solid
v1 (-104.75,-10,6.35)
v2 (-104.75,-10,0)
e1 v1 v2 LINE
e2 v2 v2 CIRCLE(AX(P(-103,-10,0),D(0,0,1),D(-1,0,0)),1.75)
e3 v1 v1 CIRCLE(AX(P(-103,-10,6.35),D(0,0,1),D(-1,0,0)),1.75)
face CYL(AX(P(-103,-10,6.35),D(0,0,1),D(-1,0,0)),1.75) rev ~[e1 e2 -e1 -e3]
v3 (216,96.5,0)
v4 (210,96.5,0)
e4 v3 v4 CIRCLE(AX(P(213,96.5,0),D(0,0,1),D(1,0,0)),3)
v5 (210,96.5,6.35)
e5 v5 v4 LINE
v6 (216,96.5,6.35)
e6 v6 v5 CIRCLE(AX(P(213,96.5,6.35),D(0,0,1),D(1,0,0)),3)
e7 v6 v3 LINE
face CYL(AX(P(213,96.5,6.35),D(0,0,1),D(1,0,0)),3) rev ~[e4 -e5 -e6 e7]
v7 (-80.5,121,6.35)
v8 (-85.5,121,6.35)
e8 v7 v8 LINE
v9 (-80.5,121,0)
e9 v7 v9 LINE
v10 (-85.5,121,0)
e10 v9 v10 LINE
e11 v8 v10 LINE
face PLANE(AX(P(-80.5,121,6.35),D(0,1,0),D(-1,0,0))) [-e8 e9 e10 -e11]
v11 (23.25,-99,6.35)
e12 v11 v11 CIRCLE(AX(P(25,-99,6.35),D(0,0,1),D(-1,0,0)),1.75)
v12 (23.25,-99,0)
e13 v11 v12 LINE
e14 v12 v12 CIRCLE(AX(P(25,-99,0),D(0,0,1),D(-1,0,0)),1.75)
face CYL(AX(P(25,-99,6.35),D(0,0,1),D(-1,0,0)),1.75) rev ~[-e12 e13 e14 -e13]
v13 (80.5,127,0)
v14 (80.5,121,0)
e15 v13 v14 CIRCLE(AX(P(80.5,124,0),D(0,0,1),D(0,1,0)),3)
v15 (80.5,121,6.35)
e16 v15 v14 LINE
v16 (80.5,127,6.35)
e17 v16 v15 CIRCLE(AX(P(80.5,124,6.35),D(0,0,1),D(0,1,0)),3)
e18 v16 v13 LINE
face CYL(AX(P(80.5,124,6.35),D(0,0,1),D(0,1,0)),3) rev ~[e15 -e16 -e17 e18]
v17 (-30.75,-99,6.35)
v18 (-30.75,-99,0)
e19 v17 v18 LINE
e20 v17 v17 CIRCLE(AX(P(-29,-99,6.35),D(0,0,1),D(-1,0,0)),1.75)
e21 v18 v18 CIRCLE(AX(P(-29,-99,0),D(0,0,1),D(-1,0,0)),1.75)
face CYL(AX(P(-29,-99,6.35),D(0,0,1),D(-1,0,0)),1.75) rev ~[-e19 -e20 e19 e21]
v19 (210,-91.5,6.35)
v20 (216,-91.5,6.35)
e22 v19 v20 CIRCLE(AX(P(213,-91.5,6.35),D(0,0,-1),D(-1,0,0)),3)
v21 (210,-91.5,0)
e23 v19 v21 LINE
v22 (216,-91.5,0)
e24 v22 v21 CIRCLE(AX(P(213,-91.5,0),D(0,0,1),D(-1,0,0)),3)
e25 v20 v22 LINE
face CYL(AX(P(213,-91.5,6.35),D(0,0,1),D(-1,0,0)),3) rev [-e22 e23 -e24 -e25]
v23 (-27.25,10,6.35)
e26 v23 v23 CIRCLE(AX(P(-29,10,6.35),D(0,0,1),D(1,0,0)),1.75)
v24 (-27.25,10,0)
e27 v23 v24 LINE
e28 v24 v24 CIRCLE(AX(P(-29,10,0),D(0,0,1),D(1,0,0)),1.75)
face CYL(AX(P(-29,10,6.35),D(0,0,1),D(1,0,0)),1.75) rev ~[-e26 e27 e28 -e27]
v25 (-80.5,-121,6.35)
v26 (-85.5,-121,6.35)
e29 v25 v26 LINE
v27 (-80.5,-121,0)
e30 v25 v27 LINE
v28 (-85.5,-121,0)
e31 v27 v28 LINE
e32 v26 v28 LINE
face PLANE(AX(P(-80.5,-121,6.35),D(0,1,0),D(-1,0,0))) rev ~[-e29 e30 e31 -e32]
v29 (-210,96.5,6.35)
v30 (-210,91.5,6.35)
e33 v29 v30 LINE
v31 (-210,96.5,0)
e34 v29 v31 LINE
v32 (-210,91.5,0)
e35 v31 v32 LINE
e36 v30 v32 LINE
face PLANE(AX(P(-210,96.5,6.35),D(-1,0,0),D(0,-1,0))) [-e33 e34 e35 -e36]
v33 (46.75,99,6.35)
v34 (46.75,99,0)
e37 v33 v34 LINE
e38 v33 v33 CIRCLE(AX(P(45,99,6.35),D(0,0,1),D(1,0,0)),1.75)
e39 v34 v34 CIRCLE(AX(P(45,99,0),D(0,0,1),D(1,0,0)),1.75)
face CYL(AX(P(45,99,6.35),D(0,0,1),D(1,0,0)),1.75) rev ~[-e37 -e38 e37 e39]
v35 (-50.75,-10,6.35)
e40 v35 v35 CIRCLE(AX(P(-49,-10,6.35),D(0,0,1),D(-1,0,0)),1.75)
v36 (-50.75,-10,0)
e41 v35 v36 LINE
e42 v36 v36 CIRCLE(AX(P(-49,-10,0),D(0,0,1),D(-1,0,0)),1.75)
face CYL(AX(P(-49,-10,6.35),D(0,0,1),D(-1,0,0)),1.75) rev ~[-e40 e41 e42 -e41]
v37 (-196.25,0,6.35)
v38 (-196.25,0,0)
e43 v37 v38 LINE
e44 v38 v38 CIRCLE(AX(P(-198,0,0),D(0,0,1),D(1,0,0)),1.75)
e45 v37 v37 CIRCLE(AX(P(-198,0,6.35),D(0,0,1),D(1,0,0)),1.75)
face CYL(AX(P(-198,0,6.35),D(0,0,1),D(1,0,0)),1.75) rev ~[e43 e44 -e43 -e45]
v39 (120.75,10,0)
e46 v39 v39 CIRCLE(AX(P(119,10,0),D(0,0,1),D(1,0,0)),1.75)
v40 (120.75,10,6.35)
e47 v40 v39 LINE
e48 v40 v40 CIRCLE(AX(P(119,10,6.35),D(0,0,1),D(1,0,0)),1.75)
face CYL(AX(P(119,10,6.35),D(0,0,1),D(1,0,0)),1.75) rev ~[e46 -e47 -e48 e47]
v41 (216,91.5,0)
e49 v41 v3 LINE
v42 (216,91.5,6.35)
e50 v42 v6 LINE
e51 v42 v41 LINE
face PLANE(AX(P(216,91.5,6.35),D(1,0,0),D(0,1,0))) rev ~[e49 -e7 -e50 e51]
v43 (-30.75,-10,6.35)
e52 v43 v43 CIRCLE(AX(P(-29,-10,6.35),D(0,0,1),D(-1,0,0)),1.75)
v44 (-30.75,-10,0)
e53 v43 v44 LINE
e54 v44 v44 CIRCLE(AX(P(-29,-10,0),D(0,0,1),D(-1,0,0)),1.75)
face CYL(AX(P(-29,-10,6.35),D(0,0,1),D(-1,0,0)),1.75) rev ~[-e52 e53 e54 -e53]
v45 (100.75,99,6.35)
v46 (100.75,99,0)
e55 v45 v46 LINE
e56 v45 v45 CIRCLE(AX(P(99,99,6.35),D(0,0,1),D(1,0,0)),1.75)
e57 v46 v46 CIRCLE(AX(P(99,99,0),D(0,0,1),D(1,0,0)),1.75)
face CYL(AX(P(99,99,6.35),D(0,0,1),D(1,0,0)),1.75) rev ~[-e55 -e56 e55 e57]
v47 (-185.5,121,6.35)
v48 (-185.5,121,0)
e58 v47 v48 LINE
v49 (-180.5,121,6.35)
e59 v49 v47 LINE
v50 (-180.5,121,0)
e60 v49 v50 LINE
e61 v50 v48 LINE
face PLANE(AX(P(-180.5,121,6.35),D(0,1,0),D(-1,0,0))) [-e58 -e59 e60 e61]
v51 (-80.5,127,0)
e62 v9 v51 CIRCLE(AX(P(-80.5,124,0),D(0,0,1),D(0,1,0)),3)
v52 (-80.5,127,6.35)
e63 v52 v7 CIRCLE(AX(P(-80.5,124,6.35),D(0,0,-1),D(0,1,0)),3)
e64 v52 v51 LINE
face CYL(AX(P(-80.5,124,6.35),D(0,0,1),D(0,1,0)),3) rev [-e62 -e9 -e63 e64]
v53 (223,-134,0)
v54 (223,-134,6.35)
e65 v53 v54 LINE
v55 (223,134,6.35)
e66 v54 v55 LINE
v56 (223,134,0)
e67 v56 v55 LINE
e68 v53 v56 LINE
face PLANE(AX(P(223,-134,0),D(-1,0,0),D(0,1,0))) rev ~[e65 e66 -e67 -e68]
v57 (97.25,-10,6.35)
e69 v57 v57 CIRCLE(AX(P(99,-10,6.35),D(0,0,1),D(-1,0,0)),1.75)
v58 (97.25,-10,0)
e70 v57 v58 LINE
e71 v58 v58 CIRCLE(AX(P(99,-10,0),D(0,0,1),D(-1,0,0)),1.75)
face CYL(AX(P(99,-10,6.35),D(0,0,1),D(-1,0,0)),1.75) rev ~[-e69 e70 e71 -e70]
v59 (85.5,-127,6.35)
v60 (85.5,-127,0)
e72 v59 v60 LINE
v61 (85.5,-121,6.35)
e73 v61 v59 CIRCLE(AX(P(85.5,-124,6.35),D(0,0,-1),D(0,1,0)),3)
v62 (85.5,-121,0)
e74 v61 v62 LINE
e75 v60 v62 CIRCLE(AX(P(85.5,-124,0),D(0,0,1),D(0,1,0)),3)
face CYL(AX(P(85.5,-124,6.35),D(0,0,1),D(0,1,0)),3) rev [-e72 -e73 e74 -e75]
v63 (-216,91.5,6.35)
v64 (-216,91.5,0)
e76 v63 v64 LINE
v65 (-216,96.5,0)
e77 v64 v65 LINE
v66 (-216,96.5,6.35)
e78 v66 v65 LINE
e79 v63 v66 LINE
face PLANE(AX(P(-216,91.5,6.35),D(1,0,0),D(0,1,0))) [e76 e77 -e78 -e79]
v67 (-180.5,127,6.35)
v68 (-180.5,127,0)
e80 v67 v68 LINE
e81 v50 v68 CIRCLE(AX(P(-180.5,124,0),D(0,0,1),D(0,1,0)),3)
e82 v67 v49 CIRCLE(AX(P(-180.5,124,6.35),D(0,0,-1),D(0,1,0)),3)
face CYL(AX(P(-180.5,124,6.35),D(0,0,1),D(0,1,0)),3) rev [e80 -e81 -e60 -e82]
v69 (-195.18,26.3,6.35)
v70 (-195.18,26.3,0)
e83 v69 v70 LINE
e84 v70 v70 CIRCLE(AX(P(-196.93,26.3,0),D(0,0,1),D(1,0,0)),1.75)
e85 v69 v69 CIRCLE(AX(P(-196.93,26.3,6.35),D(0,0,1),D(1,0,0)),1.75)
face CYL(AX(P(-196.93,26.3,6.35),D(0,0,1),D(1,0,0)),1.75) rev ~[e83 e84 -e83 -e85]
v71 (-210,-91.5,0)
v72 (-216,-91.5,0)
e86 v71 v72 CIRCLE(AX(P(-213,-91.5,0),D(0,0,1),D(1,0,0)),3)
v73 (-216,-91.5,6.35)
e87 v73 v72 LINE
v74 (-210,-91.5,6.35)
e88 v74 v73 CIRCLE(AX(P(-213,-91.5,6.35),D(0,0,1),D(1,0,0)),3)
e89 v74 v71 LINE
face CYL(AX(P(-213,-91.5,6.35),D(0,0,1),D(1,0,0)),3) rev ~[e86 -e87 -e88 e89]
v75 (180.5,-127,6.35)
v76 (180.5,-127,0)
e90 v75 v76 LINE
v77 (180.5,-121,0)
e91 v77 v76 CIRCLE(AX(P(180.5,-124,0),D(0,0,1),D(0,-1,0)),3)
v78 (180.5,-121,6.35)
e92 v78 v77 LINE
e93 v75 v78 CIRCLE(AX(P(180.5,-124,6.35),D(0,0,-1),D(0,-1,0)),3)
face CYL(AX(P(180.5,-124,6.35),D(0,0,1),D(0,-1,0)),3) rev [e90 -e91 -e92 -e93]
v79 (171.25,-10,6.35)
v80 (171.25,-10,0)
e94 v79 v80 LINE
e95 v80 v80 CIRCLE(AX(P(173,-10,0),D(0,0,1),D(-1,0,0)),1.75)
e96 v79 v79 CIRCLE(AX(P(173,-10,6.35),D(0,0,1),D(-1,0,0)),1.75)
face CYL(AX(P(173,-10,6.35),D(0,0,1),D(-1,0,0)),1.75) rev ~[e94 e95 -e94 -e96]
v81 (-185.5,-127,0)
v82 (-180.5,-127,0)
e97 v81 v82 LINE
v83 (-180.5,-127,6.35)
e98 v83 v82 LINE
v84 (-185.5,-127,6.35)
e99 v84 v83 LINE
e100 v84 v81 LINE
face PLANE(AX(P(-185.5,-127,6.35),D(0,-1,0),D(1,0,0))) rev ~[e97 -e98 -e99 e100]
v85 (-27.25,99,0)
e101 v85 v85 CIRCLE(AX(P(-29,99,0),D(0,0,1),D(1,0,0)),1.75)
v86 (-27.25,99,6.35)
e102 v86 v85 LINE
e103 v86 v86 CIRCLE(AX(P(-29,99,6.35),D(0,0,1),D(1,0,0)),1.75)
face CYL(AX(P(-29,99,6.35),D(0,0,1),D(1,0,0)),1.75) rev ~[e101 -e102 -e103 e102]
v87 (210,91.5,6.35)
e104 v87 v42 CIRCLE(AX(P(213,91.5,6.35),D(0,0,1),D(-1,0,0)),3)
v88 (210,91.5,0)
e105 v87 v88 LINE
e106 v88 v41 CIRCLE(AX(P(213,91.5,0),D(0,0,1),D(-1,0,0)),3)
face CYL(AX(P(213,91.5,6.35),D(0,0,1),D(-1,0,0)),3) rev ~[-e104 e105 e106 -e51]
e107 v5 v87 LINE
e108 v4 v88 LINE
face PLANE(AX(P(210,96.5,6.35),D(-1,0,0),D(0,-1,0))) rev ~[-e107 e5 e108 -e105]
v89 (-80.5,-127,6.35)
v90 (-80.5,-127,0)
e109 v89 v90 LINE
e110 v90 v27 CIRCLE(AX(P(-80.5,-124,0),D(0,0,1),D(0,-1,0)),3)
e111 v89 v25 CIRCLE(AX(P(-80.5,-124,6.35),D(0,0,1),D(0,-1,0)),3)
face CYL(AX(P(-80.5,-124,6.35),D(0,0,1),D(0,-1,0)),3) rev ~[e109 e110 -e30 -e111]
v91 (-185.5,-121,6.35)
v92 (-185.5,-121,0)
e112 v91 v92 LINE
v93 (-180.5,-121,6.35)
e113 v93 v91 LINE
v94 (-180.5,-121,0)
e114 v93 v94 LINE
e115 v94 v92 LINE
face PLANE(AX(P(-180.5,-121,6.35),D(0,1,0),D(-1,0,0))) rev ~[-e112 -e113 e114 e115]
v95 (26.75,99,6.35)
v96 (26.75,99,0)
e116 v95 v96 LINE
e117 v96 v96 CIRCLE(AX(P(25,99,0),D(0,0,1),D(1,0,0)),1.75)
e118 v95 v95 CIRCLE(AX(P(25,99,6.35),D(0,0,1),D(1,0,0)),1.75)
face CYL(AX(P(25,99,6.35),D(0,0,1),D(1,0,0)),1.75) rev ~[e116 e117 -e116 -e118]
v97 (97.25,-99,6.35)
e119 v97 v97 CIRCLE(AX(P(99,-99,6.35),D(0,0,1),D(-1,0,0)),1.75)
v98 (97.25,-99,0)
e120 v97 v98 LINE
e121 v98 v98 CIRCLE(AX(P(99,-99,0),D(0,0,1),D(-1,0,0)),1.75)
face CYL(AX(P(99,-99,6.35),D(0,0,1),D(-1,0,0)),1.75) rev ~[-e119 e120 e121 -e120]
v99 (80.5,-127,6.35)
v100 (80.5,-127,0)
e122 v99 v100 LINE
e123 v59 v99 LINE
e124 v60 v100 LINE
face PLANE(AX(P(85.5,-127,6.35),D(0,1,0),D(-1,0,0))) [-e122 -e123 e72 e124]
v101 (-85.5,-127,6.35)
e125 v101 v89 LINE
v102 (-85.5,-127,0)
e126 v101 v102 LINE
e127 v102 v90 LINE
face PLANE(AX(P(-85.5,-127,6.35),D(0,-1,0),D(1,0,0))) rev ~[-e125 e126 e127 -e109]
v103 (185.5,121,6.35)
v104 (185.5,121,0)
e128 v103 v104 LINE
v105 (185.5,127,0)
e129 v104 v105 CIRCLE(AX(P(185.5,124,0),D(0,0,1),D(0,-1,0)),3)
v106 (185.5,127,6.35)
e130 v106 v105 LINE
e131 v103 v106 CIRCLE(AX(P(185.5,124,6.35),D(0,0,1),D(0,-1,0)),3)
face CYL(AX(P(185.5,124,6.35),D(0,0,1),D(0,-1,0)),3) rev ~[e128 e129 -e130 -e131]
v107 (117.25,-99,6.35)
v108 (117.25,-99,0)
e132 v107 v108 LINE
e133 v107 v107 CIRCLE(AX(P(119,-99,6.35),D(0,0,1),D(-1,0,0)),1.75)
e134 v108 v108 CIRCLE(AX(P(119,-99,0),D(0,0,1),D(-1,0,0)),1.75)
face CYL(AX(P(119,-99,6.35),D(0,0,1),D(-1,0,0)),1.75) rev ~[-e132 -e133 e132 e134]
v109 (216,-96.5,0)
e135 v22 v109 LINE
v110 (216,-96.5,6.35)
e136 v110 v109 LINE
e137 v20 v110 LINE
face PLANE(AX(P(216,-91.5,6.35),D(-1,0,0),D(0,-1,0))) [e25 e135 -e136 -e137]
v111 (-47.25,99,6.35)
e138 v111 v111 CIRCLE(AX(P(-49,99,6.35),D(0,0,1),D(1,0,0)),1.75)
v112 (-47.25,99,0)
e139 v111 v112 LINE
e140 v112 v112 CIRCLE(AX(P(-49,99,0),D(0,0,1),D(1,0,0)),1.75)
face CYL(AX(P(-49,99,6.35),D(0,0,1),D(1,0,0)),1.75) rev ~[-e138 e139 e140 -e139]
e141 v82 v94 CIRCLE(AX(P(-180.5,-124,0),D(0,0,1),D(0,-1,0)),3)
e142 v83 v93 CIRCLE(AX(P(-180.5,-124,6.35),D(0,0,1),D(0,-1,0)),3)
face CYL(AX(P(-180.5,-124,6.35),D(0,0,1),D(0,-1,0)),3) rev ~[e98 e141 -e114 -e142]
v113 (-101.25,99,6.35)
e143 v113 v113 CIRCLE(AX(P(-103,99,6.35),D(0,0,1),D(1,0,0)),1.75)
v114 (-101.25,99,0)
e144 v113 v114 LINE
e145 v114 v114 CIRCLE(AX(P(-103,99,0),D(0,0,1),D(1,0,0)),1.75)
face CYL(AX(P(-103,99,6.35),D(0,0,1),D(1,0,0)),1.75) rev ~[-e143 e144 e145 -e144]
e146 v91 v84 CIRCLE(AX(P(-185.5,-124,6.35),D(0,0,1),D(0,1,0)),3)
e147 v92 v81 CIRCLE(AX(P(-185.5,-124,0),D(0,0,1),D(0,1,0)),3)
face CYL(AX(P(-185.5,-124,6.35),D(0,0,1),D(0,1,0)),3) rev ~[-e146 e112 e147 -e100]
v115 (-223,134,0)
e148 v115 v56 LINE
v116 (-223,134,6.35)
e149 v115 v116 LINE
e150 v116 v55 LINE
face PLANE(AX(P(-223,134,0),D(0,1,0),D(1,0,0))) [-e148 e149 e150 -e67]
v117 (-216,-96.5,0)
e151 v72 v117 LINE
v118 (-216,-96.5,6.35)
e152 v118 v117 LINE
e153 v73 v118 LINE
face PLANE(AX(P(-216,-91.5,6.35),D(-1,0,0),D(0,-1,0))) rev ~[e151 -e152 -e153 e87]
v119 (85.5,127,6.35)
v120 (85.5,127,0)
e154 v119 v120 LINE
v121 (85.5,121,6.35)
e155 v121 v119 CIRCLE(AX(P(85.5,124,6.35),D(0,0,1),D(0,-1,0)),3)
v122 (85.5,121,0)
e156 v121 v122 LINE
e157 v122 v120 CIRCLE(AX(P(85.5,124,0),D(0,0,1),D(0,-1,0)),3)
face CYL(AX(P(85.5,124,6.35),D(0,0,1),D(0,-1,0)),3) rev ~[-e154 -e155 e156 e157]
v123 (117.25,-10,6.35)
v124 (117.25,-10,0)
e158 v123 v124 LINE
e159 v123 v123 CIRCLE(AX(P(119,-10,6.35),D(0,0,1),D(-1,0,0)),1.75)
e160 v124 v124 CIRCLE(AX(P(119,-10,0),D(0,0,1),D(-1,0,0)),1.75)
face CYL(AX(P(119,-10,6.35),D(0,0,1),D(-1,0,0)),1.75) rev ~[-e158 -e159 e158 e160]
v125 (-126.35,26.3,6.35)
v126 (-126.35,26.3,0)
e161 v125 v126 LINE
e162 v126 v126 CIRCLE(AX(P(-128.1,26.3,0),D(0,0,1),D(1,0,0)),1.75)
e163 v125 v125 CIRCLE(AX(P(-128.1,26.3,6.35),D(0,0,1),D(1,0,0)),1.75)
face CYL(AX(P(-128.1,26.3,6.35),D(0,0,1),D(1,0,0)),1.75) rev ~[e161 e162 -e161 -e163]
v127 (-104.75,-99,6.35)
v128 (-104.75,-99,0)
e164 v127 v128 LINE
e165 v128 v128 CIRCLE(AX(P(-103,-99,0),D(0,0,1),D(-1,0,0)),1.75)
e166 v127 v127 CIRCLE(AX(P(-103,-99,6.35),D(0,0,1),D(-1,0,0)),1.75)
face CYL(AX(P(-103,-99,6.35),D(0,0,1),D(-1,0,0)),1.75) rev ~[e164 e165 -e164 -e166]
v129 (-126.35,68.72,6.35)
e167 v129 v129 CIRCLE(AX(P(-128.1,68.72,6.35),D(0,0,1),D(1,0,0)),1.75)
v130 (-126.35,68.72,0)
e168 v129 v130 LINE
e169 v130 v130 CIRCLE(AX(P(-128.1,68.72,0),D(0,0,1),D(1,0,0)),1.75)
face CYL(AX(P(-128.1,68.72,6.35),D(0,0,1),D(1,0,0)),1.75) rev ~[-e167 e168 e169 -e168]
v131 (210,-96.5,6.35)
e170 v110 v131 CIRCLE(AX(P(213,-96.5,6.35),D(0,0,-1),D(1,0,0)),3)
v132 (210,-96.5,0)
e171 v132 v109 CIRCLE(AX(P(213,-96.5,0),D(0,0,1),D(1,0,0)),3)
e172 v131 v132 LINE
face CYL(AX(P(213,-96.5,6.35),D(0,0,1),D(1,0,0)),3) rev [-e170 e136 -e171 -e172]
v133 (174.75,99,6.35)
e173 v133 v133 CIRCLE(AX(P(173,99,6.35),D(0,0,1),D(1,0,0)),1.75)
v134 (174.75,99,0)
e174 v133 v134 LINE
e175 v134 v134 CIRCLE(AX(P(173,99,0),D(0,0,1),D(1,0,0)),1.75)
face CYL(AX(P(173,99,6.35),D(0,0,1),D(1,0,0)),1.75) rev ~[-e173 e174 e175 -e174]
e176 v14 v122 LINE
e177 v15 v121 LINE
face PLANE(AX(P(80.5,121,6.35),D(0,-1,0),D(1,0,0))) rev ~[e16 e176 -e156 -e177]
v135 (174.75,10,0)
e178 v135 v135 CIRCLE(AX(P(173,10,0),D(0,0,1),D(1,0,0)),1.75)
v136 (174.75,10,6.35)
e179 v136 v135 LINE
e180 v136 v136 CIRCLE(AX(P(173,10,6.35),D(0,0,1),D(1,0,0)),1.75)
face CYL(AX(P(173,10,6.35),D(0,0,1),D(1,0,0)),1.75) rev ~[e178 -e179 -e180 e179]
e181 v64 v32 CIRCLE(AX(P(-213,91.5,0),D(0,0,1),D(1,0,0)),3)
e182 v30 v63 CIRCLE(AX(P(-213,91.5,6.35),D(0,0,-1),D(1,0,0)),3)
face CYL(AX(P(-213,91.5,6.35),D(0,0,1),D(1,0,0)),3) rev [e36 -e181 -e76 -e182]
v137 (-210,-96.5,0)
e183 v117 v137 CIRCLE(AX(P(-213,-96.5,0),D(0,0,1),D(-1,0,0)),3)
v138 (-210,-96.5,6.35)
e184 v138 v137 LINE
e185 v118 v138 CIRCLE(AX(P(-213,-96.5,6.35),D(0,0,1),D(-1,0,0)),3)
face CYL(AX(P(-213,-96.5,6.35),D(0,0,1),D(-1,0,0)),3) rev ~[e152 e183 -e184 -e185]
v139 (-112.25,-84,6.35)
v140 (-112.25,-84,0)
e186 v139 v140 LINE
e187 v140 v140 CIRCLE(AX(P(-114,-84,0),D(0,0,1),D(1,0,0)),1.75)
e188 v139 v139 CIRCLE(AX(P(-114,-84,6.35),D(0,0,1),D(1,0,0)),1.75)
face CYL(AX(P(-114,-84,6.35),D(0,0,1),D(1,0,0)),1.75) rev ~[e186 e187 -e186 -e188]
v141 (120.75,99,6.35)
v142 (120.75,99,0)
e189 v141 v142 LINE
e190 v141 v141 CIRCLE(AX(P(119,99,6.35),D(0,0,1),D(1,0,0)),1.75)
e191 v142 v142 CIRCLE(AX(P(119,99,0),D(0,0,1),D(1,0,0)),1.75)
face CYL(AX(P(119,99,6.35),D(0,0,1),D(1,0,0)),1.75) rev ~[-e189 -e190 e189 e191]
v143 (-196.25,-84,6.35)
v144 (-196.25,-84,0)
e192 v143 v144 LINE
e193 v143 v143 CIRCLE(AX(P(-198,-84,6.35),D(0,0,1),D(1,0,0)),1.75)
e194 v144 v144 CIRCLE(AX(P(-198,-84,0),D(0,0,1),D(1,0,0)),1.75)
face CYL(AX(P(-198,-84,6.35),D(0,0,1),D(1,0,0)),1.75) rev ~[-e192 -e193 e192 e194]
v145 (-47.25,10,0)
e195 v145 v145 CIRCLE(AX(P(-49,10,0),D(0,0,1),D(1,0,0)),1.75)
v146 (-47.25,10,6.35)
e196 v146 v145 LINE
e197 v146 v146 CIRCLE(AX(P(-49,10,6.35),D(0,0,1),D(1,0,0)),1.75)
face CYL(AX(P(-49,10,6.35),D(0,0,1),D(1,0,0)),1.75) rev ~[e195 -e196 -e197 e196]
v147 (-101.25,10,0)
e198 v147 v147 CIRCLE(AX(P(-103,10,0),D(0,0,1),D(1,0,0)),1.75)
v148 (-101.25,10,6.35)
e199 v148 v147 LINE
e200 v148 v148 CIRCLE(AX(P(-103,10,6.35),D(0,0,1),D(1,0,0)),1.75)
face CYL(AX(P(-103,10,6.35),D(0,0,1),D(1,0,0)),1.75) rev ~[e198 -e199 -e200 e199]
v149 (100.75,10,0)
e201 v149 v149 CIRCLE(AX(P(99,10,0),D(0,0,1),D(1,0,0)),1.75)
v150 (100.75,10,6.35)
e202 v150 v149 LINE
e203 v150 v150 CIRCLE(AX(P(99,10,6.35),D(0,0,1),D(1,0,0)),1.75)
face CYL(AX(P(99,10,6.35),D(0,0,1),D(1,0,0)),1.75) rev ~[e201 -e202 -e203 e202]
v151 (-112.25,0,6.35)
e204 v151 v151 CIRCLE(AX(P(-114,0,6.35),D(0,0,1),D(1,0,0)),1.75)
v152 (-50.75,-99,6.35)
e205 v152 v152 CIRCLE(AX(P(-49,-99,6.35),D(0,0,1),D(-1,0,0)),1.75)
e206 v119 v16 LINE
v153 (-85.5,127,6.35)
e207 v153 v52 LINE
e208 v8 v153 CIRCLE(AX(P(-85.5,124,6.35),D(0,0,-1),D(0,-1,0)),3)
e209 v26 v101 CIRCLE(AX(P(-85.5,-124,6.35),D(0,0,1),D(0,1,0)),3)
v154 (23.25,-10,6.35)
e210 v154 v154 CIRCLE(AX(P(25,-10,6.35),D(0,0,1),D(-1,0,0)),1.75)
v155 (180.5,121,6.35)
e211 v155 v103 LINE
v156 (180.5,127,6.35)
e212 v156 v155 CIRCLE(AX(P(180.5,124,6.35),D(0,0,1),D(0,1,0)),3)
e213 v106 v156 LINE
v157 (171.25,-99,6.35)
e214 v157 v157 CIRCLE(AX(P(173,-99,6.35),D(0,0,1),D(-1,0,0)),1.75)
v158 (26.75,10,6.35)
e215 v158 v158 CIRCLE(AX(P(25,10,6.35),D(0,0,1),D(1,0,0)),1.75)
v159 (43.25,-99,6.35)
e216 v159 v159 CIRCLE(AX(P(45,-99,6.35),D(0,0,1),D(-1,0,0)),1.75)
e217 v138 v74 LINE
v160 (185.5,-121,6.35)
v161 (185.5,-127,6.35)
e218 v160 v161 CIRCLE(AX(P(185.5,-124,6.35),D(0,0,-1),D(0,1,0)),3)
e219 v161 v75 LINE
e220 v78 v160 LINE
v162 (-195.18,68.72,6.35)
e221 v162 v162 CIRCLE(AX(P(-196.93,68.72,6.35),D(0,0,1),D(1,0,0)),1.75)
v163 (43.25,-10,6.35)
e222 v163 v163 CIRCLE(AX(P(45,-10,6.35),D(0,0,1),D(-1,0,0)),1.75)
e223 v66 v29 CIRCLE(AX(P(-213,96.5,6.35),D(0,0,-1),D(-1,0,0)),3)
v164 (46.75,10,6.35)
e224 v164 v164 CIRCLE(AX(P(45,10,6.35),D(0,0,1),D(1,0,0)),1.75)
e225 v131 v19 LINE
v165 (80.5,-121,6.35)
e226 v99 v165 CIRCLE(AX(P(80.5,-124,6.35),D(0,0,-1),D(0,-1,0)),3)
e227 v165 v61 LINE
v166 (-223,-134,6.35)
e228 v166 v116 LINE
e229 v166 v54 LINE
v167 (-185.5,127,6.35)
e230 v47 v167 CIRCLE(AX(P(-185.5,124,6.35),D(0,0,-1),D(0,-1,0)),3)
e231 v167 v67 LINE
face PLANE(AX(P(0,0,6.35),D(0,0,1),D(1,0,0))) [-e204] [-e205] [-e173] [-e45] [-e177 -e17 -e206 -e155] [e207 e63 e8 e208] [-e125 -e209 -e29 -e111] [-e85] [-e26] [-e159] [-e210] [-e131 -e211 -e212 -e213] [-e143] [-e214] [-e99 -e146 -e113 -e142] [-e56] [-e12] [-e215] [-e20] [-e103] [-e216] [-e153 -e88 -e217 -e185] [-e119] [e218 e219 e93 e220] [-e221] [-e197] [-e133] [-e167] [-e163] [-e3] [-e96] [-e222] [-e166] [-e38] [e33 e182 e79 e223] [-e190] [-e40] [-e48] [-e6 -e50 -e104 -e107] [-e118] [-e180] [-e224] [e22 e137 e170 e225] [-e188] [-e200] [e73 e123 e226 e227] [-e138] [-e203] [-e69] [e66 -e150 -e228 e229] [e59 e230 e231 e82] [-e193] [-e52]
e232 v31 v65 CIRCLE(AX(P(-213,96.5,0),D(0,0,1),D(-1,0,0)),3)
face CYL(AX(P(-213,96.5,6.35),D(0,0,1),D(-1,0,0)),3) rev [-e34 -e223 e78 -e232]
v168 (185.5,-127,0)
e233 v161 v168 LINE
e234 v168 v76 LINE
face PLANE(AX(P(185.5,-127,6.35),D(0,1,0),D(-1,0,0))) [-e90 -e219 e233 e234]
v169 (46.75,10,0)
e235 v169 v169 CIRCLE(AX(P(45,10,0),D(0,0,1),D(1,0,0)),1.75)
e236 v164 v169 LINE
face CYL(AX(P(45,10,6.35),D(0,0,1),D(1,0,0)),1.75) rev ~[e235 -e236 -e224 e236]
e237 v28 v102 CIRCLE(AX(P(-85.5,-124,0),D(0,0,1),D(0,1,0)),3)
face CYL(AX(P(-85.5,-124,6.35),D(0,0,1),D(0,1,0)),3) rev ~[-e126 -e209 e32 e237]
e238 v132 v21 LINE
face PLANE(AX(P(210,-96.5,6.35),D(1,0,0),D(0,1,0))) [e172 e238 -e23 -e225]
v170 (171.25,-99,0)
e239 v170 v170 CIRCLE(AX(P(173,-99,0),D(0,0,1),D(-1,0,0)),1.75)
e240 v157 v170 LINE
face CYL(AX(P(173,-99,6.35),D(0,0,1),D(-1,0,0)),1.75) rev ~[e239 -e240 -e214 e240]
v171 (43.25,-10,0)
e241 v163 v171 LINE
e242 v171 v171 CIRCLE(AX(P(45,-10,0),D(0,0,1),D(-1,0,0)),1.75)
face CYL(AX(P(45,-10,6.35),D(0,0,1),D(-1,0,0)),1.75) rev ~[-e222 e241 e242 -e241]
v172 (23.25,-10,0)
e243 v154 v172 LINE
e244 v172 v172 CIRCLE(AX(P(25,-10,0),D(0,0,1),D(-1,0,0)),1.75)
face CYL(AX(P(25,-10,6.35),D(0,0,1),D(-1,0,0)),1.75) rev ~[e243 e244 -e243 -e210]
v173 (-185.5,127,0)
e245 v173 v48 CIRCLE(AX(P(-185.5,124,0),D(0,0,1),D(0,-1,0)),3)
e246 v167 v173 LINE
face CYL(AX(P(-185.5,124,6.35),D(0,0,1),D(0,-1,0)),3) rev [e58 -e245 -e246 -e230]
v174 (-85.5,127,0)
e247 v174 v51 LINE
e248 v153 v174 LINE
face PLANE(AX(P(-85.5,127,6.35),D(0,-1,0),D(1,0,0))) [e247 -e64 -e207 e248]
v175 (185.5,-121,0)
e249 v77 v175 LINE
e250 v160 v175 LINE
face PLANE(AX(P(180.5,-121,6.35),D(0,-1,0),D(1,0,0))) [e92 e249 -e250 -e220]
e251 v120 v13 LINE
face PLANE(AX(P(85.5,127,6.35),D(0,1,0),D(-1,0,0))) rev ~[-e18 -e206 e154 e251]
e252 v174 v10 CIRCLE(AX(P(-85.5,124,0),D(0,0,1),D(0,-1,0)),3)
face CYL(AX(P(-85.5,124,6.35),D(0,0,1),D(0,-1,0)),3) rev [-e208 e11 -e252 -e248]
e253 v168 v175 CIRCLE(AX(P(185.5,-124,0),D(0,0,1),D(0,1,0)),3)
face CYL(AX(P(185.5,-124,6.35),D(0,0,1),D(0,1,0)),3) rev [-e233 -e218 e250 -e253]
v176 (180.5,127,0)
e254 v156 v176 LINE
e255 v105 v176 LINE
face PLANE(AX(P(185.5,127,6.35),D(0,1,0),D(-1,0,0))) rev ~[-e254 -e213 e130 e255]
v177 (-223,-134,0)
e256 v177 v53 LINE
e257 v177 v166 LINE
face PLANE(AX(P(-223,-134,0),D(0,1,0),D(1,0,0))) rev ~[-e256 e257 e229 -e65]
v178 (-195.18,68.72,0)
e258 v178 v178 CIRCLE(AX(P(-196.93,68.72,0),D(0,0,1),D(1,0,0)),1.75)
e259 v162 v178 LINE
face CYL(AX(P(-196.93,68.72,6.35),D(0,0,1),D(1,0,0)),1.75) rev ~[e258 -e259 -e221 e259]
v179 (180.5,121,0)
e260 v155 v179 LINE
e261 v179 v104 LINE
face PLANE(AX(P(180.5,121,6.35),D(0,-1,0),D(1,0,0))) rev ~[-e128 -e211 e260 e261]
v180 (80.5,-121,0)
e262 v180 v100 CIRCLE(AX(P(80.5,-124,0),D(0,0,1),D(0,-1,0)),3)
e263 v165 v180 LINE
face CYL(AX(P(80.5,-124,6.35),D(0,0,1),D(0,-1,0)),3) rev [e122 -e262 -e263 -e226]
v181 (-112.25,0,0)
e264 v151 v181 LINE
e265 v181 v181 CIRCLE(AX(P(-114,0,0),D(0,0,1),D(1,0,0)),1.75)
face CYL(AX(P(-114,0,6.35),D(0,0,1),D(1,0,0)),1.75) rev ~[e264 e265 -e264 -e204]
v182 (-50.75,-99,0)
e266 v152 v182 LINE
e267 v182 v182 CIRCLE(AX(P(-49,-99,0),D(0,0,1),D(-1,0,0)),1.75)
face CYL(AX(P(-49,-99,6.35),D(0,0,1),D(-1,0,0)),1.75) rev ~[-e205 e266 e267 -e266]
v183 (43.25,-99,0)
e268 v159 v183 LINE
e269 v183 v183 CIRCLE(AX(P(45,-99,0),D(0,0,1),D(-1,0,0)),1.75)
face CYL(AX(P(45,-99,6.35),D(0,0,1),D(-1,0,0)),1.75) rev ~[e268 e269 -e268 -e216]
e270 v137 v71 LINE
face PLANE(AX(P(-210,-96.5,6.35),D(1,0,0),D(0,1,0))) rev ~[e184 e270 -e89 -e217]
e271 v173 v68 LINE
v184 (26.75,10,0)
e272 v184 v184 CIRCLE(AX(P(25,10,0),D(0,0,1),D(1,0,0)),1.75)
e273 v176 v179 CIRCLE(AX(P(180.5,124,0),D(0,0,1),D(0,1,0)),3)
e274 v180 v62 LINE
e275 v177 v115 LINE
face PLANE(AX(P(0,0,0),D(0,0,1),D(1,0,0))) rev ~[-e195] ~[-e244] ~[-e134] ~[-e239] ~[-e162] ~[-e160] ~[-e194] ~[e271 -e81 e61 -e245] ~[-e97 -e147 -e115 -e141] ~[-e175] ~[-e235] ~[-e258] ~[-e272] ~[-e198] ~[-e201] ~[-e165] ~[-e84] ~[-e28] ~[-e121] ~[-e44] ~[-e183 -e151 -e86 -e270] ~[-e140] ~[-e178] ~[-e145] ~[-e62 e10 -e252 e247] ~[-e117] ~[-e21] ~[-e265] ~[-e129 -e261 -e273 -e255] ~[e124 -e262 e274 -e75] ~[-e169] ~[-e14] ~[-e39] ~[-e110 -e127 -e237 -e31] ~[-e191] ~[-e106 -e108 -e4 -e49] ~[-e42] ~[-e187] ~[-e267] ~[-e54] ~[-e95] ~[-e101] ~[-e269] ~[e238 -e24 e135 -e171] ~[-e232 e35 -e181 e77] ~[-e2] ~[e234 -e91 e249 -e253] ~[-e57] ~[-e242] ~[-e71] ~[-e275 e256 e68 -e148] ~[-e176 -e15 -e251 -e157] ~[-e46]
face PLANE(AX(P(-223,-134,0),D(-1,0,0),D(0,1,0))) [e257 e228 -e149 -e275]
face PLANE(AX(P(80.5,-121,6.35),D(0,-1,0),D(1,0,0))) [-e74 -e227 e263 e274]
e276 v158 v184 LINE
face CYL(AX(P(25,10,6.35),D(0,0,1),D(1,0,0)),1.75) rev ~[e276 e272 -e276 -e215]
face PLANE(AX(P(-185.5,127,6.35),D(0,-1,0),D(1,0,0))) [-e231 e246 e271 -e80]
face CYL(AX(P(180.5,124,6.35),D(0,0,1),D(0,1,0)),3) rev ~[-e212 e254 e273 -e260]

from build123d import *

# Parameters (mm, degrees)
SKETCH1_W           = 446
SKETCH1_H           = 268
BOSS_EXTRUDE1_DEPTH = 6.35
SKETCH3_R           = 1.75
CUT_EXTRUDE1_DEPTH  = 261.240893212


with BuildPart() as part:
    # Sketch1 → Boss-Extrude1 (new body)
    with BuildSketch(Plane.XY):
        Rectangle(SKETCH1_W, SKETCH1_H)
    extrude(amount=BOSS_EXTRUDE1_DEPTH)

    # Sketch3 → Cut-Extrude1 (cut, through all)
    with BuildSketch(Plane.XY.offset(6.35)):
        with Locations((119, 10)):
            Circle(SKETCH3_R)
        with Locations((173, 10)):
            Circle(SKETCH3_R)
        with Locations((119, 99)):
            Circle(SKETCH3_R)
        with Locations((173, 99)):
            Circle(SKETCH3_R)
        with Locations((99, 99)):
            Circle(SKETCH3_R)
        with Locations((99, 10)):
            Circle(SKETCH3_R)
        with Locations((45, 10)):
            Circle(SKETCH3_R)
        with Locations((45, 99)):
            Circle(SKETCH3_R)
        with Locations((25, 99)):
            Circle(SKETCH3_R)
        with Locations((25, 10)):
            Circle(SKETCH3_R)
        with Locations((-29, 10)):
            Circle(SKETCH3_R)
        with Locations((-29, 99)):
            Circle(SKETCH3_R)
        with Locations((-49, 99)):
            Circle(SKETCH3_R)
        with Locations((-49, 10)):
            Circle(SKETCH3_R)
        with Locations((-103, 10)):
            Circle(SKETCH3_R)
        with Locations((-103, 99)):
            Circle(SKETCH3_R)
        with Locations(Location((-103, -99, 0), (0, 0, 180))):
            Circle(SKETCH3_R)
        with Locations(Location((-103, -10, 0), (0, 0, 180))):
            Circle(SKETCH3_R)
        with Locations(Location((-49, -10, 0), (0, 0, 180))):
            Circle(SKETCH3_R)
        with Locations(Location((-49, -99, 0), (0, 0, 180))):
            Circle(SKETCH3_R)
        with Locations(Location((-29, -99, 0), (0, 0, 180))):
            Circle(SKETCH3_R)
        with Locations(Location((-29, -10, 0), (0, 0, 180))):
            Circle(SKETCH3_R)
        with Locations(Location((25, -10, 0), (0, 0, 180))):
            Circle(SKETCH3_R)
        with Locations(Location((25, -99, 0), (0, 0, 180))):
            Circle(SKETCH3_R)
        with Locations(Location((45, -99, 0), (0, 0, 180))):
            Circle(SKETCH3_R)
        with Locations(Location((45, -10, 0), (0, 0, 180))):
            Circle(SKETCH3_R)
        with Locations(Location((99, -10, 0), (0, 0, 180))):
            Circle(SKETCH3_R)
        with Locations(Location((99, -99, 0), (0, 0, 180))):
            Circle(SKETCH3_R)
        with Locations(Location((173, -99, 0), (0, 0, 180))):
            Circle(SKETCH3_R)
        with Locations(Location((119, -99, 0), (0, 0, 180))):
            Circle(SKETCH3_R)
        with Locations(Location((173, -10, 0), (0, 0, 180))):
            Circle(SKETCH3_R)
        with Locations(Location((119, -10, 0), (0, 0, 180))):
            Circle(SKETCH3_R)
        with Locations((-198, 0)):
            Circle(SKETCH3_R)
        with Locations((-114, 0)):
            Circle(SKETCH3_R)
        with Locations((-198, -84)):
            Circle(SKETCH3_R)
        with Locations((-114, -84)):
            Circle(SKETCH3_R)
        with Locations((-196.93, 26.3)):
            Circle(SKETCH3_R)
        with Locations((-128.1, 26.3)):
            Circle(SKETCH3_R)
        with Locations((-128.1, 68.72)):
            Circle(SKETCH3_R)
        with Locations((-196.93, 68.72)):
            Circle(SKETCH3_R)
        with BuildLine():
            Line((-185.5, 127), (-180.5, 127))
            ThreePointArc((-180.5, 127), (-177.5, 124), (-180.5, 121))
            Line((-180.5, 121), (-185.5, 121))
            ThreePointArc((-185.5, 121), (-188.5, 124), (-185.5, 127))
        make_face()
        with BuildLine():
            Line((-210, 96.5), (-210, 91.5))
            ThreePointArc((-210, 91.5), (-213, 88.5), (-216, 91.5))
            Line((-216, 91.5), (-216, 96.5))
            ThreePointArc((-216, 96.5), (-213, 99.5), (-210, 96.5))
        make_face()
        with BuildLine():
            Line((-85.5, 127), (-80.5, 127))
            ThreePointArc((-80.5, 127), (-77.5, 124), (-80.5, 121))
            Line((-80.5, 121), (-85.5, 121))
            ThreePointArc((-85.5, 121), (-88.5, 124), (-85.5, 127))
        make_face()
        with BuildLine():
            Line((85.5, 127), (80.5, 127))
            ThreePointArc((80.5, 127), (77.5, 124), (80.5, 121))
            Line((80.5, 121), (85.5, 121))
            ThreePointArc((85.5, 121), (88.5, 124), (85.5, 127))
        make_face()
        with BuildLine():
            Line((185.5, 127), (180.5, 127))
            ThreePointArc((180.5, 127), (177.5, 124), (180.5, 121))
            Line((180.5, 121), (185.5, 121))
            ThreePointArc((185.5, 121), (188.5, 124), (185.5, 127))
        make_face()
        with BuildLine():
            Line((210, 96.5), (210, 91.5))
            ThreePointArc((210, 91.5), (213, 88.5), (216, 91.5))
            Line((216, 91.5), (216, 96.5))
            ThreePointArc((216, 96.5), (213, 99.5), (210, 96.5))
        make_face()
        with BuildLine():
            Line((210, -96.5), (210, -91.5))
            ThreePointArc((210, -91.5), (213, -88.5), (216, -91.5))
            Line((216, -91.5), (216, -96.5))
            ThreePointArc((216, -96.5), (213, -99.5), (210, -96.5))
        make_face()
        with BuildLine():
            Line((185.5, -127), (180.5, -127))
            ThreePointArc((180.5, -127), (177.5, -124), (180.5, -121))
            Line((180.5, -121), (185.5, -121))
            ThreePointArc((185.5, -121), (188.5, -124), (185.5, -127))
        make_face()
        with BuildLine():
            Line((85.5, -127), (80.5, -127))
            ThreePointArc((80.5, -127), (77.5, -124), (80.5, -121))
            Line((80.5, -121), (85.5, -121))
            ThreePointArc((85.5, -121), (88.5, -124), (85.5, -127))
        make_face()
        with BuildLine():
            Line((-85.5, -127), (-80.5, -127))
            ThreePointArc((-80.5, -127), (-77.5, -124), (-80.5, -121))
            Line((-80.5, -121), (-85.5, -121))
            ThreePointArc((-85.5, -121), (-88.5, -124), (-85.5, -127))
        make_face()
        with BuildLine():
            Line((-185.5, -127), (-180.5, -127))
            ThreePointArc((-180.5, -127), (-177.5, -124), (-180.5, -121))
            Line((-180.5, -121), (-185.5, -121))
            ThreePointArc((-185.5, -121), (-188.5, -124), (-185.5, -127))
        make_face()
        with BuildLine():
            Line((-210, -96.5), (-210, -91.5))
            ThreePointArc((-210, -91.5), (-213, -88.5), (-216, -91.5))
            Line((-216, -91.5), (-216, -96.5))
            ThreePointArc((-216, -96.5), (-213, -99.5), (-210, -96.5))
        make_face()
    extrude(amount=-CUT_EXTRUDE1_DEPTH, mode=Mode.SUBTRACT)


solid = part.part
